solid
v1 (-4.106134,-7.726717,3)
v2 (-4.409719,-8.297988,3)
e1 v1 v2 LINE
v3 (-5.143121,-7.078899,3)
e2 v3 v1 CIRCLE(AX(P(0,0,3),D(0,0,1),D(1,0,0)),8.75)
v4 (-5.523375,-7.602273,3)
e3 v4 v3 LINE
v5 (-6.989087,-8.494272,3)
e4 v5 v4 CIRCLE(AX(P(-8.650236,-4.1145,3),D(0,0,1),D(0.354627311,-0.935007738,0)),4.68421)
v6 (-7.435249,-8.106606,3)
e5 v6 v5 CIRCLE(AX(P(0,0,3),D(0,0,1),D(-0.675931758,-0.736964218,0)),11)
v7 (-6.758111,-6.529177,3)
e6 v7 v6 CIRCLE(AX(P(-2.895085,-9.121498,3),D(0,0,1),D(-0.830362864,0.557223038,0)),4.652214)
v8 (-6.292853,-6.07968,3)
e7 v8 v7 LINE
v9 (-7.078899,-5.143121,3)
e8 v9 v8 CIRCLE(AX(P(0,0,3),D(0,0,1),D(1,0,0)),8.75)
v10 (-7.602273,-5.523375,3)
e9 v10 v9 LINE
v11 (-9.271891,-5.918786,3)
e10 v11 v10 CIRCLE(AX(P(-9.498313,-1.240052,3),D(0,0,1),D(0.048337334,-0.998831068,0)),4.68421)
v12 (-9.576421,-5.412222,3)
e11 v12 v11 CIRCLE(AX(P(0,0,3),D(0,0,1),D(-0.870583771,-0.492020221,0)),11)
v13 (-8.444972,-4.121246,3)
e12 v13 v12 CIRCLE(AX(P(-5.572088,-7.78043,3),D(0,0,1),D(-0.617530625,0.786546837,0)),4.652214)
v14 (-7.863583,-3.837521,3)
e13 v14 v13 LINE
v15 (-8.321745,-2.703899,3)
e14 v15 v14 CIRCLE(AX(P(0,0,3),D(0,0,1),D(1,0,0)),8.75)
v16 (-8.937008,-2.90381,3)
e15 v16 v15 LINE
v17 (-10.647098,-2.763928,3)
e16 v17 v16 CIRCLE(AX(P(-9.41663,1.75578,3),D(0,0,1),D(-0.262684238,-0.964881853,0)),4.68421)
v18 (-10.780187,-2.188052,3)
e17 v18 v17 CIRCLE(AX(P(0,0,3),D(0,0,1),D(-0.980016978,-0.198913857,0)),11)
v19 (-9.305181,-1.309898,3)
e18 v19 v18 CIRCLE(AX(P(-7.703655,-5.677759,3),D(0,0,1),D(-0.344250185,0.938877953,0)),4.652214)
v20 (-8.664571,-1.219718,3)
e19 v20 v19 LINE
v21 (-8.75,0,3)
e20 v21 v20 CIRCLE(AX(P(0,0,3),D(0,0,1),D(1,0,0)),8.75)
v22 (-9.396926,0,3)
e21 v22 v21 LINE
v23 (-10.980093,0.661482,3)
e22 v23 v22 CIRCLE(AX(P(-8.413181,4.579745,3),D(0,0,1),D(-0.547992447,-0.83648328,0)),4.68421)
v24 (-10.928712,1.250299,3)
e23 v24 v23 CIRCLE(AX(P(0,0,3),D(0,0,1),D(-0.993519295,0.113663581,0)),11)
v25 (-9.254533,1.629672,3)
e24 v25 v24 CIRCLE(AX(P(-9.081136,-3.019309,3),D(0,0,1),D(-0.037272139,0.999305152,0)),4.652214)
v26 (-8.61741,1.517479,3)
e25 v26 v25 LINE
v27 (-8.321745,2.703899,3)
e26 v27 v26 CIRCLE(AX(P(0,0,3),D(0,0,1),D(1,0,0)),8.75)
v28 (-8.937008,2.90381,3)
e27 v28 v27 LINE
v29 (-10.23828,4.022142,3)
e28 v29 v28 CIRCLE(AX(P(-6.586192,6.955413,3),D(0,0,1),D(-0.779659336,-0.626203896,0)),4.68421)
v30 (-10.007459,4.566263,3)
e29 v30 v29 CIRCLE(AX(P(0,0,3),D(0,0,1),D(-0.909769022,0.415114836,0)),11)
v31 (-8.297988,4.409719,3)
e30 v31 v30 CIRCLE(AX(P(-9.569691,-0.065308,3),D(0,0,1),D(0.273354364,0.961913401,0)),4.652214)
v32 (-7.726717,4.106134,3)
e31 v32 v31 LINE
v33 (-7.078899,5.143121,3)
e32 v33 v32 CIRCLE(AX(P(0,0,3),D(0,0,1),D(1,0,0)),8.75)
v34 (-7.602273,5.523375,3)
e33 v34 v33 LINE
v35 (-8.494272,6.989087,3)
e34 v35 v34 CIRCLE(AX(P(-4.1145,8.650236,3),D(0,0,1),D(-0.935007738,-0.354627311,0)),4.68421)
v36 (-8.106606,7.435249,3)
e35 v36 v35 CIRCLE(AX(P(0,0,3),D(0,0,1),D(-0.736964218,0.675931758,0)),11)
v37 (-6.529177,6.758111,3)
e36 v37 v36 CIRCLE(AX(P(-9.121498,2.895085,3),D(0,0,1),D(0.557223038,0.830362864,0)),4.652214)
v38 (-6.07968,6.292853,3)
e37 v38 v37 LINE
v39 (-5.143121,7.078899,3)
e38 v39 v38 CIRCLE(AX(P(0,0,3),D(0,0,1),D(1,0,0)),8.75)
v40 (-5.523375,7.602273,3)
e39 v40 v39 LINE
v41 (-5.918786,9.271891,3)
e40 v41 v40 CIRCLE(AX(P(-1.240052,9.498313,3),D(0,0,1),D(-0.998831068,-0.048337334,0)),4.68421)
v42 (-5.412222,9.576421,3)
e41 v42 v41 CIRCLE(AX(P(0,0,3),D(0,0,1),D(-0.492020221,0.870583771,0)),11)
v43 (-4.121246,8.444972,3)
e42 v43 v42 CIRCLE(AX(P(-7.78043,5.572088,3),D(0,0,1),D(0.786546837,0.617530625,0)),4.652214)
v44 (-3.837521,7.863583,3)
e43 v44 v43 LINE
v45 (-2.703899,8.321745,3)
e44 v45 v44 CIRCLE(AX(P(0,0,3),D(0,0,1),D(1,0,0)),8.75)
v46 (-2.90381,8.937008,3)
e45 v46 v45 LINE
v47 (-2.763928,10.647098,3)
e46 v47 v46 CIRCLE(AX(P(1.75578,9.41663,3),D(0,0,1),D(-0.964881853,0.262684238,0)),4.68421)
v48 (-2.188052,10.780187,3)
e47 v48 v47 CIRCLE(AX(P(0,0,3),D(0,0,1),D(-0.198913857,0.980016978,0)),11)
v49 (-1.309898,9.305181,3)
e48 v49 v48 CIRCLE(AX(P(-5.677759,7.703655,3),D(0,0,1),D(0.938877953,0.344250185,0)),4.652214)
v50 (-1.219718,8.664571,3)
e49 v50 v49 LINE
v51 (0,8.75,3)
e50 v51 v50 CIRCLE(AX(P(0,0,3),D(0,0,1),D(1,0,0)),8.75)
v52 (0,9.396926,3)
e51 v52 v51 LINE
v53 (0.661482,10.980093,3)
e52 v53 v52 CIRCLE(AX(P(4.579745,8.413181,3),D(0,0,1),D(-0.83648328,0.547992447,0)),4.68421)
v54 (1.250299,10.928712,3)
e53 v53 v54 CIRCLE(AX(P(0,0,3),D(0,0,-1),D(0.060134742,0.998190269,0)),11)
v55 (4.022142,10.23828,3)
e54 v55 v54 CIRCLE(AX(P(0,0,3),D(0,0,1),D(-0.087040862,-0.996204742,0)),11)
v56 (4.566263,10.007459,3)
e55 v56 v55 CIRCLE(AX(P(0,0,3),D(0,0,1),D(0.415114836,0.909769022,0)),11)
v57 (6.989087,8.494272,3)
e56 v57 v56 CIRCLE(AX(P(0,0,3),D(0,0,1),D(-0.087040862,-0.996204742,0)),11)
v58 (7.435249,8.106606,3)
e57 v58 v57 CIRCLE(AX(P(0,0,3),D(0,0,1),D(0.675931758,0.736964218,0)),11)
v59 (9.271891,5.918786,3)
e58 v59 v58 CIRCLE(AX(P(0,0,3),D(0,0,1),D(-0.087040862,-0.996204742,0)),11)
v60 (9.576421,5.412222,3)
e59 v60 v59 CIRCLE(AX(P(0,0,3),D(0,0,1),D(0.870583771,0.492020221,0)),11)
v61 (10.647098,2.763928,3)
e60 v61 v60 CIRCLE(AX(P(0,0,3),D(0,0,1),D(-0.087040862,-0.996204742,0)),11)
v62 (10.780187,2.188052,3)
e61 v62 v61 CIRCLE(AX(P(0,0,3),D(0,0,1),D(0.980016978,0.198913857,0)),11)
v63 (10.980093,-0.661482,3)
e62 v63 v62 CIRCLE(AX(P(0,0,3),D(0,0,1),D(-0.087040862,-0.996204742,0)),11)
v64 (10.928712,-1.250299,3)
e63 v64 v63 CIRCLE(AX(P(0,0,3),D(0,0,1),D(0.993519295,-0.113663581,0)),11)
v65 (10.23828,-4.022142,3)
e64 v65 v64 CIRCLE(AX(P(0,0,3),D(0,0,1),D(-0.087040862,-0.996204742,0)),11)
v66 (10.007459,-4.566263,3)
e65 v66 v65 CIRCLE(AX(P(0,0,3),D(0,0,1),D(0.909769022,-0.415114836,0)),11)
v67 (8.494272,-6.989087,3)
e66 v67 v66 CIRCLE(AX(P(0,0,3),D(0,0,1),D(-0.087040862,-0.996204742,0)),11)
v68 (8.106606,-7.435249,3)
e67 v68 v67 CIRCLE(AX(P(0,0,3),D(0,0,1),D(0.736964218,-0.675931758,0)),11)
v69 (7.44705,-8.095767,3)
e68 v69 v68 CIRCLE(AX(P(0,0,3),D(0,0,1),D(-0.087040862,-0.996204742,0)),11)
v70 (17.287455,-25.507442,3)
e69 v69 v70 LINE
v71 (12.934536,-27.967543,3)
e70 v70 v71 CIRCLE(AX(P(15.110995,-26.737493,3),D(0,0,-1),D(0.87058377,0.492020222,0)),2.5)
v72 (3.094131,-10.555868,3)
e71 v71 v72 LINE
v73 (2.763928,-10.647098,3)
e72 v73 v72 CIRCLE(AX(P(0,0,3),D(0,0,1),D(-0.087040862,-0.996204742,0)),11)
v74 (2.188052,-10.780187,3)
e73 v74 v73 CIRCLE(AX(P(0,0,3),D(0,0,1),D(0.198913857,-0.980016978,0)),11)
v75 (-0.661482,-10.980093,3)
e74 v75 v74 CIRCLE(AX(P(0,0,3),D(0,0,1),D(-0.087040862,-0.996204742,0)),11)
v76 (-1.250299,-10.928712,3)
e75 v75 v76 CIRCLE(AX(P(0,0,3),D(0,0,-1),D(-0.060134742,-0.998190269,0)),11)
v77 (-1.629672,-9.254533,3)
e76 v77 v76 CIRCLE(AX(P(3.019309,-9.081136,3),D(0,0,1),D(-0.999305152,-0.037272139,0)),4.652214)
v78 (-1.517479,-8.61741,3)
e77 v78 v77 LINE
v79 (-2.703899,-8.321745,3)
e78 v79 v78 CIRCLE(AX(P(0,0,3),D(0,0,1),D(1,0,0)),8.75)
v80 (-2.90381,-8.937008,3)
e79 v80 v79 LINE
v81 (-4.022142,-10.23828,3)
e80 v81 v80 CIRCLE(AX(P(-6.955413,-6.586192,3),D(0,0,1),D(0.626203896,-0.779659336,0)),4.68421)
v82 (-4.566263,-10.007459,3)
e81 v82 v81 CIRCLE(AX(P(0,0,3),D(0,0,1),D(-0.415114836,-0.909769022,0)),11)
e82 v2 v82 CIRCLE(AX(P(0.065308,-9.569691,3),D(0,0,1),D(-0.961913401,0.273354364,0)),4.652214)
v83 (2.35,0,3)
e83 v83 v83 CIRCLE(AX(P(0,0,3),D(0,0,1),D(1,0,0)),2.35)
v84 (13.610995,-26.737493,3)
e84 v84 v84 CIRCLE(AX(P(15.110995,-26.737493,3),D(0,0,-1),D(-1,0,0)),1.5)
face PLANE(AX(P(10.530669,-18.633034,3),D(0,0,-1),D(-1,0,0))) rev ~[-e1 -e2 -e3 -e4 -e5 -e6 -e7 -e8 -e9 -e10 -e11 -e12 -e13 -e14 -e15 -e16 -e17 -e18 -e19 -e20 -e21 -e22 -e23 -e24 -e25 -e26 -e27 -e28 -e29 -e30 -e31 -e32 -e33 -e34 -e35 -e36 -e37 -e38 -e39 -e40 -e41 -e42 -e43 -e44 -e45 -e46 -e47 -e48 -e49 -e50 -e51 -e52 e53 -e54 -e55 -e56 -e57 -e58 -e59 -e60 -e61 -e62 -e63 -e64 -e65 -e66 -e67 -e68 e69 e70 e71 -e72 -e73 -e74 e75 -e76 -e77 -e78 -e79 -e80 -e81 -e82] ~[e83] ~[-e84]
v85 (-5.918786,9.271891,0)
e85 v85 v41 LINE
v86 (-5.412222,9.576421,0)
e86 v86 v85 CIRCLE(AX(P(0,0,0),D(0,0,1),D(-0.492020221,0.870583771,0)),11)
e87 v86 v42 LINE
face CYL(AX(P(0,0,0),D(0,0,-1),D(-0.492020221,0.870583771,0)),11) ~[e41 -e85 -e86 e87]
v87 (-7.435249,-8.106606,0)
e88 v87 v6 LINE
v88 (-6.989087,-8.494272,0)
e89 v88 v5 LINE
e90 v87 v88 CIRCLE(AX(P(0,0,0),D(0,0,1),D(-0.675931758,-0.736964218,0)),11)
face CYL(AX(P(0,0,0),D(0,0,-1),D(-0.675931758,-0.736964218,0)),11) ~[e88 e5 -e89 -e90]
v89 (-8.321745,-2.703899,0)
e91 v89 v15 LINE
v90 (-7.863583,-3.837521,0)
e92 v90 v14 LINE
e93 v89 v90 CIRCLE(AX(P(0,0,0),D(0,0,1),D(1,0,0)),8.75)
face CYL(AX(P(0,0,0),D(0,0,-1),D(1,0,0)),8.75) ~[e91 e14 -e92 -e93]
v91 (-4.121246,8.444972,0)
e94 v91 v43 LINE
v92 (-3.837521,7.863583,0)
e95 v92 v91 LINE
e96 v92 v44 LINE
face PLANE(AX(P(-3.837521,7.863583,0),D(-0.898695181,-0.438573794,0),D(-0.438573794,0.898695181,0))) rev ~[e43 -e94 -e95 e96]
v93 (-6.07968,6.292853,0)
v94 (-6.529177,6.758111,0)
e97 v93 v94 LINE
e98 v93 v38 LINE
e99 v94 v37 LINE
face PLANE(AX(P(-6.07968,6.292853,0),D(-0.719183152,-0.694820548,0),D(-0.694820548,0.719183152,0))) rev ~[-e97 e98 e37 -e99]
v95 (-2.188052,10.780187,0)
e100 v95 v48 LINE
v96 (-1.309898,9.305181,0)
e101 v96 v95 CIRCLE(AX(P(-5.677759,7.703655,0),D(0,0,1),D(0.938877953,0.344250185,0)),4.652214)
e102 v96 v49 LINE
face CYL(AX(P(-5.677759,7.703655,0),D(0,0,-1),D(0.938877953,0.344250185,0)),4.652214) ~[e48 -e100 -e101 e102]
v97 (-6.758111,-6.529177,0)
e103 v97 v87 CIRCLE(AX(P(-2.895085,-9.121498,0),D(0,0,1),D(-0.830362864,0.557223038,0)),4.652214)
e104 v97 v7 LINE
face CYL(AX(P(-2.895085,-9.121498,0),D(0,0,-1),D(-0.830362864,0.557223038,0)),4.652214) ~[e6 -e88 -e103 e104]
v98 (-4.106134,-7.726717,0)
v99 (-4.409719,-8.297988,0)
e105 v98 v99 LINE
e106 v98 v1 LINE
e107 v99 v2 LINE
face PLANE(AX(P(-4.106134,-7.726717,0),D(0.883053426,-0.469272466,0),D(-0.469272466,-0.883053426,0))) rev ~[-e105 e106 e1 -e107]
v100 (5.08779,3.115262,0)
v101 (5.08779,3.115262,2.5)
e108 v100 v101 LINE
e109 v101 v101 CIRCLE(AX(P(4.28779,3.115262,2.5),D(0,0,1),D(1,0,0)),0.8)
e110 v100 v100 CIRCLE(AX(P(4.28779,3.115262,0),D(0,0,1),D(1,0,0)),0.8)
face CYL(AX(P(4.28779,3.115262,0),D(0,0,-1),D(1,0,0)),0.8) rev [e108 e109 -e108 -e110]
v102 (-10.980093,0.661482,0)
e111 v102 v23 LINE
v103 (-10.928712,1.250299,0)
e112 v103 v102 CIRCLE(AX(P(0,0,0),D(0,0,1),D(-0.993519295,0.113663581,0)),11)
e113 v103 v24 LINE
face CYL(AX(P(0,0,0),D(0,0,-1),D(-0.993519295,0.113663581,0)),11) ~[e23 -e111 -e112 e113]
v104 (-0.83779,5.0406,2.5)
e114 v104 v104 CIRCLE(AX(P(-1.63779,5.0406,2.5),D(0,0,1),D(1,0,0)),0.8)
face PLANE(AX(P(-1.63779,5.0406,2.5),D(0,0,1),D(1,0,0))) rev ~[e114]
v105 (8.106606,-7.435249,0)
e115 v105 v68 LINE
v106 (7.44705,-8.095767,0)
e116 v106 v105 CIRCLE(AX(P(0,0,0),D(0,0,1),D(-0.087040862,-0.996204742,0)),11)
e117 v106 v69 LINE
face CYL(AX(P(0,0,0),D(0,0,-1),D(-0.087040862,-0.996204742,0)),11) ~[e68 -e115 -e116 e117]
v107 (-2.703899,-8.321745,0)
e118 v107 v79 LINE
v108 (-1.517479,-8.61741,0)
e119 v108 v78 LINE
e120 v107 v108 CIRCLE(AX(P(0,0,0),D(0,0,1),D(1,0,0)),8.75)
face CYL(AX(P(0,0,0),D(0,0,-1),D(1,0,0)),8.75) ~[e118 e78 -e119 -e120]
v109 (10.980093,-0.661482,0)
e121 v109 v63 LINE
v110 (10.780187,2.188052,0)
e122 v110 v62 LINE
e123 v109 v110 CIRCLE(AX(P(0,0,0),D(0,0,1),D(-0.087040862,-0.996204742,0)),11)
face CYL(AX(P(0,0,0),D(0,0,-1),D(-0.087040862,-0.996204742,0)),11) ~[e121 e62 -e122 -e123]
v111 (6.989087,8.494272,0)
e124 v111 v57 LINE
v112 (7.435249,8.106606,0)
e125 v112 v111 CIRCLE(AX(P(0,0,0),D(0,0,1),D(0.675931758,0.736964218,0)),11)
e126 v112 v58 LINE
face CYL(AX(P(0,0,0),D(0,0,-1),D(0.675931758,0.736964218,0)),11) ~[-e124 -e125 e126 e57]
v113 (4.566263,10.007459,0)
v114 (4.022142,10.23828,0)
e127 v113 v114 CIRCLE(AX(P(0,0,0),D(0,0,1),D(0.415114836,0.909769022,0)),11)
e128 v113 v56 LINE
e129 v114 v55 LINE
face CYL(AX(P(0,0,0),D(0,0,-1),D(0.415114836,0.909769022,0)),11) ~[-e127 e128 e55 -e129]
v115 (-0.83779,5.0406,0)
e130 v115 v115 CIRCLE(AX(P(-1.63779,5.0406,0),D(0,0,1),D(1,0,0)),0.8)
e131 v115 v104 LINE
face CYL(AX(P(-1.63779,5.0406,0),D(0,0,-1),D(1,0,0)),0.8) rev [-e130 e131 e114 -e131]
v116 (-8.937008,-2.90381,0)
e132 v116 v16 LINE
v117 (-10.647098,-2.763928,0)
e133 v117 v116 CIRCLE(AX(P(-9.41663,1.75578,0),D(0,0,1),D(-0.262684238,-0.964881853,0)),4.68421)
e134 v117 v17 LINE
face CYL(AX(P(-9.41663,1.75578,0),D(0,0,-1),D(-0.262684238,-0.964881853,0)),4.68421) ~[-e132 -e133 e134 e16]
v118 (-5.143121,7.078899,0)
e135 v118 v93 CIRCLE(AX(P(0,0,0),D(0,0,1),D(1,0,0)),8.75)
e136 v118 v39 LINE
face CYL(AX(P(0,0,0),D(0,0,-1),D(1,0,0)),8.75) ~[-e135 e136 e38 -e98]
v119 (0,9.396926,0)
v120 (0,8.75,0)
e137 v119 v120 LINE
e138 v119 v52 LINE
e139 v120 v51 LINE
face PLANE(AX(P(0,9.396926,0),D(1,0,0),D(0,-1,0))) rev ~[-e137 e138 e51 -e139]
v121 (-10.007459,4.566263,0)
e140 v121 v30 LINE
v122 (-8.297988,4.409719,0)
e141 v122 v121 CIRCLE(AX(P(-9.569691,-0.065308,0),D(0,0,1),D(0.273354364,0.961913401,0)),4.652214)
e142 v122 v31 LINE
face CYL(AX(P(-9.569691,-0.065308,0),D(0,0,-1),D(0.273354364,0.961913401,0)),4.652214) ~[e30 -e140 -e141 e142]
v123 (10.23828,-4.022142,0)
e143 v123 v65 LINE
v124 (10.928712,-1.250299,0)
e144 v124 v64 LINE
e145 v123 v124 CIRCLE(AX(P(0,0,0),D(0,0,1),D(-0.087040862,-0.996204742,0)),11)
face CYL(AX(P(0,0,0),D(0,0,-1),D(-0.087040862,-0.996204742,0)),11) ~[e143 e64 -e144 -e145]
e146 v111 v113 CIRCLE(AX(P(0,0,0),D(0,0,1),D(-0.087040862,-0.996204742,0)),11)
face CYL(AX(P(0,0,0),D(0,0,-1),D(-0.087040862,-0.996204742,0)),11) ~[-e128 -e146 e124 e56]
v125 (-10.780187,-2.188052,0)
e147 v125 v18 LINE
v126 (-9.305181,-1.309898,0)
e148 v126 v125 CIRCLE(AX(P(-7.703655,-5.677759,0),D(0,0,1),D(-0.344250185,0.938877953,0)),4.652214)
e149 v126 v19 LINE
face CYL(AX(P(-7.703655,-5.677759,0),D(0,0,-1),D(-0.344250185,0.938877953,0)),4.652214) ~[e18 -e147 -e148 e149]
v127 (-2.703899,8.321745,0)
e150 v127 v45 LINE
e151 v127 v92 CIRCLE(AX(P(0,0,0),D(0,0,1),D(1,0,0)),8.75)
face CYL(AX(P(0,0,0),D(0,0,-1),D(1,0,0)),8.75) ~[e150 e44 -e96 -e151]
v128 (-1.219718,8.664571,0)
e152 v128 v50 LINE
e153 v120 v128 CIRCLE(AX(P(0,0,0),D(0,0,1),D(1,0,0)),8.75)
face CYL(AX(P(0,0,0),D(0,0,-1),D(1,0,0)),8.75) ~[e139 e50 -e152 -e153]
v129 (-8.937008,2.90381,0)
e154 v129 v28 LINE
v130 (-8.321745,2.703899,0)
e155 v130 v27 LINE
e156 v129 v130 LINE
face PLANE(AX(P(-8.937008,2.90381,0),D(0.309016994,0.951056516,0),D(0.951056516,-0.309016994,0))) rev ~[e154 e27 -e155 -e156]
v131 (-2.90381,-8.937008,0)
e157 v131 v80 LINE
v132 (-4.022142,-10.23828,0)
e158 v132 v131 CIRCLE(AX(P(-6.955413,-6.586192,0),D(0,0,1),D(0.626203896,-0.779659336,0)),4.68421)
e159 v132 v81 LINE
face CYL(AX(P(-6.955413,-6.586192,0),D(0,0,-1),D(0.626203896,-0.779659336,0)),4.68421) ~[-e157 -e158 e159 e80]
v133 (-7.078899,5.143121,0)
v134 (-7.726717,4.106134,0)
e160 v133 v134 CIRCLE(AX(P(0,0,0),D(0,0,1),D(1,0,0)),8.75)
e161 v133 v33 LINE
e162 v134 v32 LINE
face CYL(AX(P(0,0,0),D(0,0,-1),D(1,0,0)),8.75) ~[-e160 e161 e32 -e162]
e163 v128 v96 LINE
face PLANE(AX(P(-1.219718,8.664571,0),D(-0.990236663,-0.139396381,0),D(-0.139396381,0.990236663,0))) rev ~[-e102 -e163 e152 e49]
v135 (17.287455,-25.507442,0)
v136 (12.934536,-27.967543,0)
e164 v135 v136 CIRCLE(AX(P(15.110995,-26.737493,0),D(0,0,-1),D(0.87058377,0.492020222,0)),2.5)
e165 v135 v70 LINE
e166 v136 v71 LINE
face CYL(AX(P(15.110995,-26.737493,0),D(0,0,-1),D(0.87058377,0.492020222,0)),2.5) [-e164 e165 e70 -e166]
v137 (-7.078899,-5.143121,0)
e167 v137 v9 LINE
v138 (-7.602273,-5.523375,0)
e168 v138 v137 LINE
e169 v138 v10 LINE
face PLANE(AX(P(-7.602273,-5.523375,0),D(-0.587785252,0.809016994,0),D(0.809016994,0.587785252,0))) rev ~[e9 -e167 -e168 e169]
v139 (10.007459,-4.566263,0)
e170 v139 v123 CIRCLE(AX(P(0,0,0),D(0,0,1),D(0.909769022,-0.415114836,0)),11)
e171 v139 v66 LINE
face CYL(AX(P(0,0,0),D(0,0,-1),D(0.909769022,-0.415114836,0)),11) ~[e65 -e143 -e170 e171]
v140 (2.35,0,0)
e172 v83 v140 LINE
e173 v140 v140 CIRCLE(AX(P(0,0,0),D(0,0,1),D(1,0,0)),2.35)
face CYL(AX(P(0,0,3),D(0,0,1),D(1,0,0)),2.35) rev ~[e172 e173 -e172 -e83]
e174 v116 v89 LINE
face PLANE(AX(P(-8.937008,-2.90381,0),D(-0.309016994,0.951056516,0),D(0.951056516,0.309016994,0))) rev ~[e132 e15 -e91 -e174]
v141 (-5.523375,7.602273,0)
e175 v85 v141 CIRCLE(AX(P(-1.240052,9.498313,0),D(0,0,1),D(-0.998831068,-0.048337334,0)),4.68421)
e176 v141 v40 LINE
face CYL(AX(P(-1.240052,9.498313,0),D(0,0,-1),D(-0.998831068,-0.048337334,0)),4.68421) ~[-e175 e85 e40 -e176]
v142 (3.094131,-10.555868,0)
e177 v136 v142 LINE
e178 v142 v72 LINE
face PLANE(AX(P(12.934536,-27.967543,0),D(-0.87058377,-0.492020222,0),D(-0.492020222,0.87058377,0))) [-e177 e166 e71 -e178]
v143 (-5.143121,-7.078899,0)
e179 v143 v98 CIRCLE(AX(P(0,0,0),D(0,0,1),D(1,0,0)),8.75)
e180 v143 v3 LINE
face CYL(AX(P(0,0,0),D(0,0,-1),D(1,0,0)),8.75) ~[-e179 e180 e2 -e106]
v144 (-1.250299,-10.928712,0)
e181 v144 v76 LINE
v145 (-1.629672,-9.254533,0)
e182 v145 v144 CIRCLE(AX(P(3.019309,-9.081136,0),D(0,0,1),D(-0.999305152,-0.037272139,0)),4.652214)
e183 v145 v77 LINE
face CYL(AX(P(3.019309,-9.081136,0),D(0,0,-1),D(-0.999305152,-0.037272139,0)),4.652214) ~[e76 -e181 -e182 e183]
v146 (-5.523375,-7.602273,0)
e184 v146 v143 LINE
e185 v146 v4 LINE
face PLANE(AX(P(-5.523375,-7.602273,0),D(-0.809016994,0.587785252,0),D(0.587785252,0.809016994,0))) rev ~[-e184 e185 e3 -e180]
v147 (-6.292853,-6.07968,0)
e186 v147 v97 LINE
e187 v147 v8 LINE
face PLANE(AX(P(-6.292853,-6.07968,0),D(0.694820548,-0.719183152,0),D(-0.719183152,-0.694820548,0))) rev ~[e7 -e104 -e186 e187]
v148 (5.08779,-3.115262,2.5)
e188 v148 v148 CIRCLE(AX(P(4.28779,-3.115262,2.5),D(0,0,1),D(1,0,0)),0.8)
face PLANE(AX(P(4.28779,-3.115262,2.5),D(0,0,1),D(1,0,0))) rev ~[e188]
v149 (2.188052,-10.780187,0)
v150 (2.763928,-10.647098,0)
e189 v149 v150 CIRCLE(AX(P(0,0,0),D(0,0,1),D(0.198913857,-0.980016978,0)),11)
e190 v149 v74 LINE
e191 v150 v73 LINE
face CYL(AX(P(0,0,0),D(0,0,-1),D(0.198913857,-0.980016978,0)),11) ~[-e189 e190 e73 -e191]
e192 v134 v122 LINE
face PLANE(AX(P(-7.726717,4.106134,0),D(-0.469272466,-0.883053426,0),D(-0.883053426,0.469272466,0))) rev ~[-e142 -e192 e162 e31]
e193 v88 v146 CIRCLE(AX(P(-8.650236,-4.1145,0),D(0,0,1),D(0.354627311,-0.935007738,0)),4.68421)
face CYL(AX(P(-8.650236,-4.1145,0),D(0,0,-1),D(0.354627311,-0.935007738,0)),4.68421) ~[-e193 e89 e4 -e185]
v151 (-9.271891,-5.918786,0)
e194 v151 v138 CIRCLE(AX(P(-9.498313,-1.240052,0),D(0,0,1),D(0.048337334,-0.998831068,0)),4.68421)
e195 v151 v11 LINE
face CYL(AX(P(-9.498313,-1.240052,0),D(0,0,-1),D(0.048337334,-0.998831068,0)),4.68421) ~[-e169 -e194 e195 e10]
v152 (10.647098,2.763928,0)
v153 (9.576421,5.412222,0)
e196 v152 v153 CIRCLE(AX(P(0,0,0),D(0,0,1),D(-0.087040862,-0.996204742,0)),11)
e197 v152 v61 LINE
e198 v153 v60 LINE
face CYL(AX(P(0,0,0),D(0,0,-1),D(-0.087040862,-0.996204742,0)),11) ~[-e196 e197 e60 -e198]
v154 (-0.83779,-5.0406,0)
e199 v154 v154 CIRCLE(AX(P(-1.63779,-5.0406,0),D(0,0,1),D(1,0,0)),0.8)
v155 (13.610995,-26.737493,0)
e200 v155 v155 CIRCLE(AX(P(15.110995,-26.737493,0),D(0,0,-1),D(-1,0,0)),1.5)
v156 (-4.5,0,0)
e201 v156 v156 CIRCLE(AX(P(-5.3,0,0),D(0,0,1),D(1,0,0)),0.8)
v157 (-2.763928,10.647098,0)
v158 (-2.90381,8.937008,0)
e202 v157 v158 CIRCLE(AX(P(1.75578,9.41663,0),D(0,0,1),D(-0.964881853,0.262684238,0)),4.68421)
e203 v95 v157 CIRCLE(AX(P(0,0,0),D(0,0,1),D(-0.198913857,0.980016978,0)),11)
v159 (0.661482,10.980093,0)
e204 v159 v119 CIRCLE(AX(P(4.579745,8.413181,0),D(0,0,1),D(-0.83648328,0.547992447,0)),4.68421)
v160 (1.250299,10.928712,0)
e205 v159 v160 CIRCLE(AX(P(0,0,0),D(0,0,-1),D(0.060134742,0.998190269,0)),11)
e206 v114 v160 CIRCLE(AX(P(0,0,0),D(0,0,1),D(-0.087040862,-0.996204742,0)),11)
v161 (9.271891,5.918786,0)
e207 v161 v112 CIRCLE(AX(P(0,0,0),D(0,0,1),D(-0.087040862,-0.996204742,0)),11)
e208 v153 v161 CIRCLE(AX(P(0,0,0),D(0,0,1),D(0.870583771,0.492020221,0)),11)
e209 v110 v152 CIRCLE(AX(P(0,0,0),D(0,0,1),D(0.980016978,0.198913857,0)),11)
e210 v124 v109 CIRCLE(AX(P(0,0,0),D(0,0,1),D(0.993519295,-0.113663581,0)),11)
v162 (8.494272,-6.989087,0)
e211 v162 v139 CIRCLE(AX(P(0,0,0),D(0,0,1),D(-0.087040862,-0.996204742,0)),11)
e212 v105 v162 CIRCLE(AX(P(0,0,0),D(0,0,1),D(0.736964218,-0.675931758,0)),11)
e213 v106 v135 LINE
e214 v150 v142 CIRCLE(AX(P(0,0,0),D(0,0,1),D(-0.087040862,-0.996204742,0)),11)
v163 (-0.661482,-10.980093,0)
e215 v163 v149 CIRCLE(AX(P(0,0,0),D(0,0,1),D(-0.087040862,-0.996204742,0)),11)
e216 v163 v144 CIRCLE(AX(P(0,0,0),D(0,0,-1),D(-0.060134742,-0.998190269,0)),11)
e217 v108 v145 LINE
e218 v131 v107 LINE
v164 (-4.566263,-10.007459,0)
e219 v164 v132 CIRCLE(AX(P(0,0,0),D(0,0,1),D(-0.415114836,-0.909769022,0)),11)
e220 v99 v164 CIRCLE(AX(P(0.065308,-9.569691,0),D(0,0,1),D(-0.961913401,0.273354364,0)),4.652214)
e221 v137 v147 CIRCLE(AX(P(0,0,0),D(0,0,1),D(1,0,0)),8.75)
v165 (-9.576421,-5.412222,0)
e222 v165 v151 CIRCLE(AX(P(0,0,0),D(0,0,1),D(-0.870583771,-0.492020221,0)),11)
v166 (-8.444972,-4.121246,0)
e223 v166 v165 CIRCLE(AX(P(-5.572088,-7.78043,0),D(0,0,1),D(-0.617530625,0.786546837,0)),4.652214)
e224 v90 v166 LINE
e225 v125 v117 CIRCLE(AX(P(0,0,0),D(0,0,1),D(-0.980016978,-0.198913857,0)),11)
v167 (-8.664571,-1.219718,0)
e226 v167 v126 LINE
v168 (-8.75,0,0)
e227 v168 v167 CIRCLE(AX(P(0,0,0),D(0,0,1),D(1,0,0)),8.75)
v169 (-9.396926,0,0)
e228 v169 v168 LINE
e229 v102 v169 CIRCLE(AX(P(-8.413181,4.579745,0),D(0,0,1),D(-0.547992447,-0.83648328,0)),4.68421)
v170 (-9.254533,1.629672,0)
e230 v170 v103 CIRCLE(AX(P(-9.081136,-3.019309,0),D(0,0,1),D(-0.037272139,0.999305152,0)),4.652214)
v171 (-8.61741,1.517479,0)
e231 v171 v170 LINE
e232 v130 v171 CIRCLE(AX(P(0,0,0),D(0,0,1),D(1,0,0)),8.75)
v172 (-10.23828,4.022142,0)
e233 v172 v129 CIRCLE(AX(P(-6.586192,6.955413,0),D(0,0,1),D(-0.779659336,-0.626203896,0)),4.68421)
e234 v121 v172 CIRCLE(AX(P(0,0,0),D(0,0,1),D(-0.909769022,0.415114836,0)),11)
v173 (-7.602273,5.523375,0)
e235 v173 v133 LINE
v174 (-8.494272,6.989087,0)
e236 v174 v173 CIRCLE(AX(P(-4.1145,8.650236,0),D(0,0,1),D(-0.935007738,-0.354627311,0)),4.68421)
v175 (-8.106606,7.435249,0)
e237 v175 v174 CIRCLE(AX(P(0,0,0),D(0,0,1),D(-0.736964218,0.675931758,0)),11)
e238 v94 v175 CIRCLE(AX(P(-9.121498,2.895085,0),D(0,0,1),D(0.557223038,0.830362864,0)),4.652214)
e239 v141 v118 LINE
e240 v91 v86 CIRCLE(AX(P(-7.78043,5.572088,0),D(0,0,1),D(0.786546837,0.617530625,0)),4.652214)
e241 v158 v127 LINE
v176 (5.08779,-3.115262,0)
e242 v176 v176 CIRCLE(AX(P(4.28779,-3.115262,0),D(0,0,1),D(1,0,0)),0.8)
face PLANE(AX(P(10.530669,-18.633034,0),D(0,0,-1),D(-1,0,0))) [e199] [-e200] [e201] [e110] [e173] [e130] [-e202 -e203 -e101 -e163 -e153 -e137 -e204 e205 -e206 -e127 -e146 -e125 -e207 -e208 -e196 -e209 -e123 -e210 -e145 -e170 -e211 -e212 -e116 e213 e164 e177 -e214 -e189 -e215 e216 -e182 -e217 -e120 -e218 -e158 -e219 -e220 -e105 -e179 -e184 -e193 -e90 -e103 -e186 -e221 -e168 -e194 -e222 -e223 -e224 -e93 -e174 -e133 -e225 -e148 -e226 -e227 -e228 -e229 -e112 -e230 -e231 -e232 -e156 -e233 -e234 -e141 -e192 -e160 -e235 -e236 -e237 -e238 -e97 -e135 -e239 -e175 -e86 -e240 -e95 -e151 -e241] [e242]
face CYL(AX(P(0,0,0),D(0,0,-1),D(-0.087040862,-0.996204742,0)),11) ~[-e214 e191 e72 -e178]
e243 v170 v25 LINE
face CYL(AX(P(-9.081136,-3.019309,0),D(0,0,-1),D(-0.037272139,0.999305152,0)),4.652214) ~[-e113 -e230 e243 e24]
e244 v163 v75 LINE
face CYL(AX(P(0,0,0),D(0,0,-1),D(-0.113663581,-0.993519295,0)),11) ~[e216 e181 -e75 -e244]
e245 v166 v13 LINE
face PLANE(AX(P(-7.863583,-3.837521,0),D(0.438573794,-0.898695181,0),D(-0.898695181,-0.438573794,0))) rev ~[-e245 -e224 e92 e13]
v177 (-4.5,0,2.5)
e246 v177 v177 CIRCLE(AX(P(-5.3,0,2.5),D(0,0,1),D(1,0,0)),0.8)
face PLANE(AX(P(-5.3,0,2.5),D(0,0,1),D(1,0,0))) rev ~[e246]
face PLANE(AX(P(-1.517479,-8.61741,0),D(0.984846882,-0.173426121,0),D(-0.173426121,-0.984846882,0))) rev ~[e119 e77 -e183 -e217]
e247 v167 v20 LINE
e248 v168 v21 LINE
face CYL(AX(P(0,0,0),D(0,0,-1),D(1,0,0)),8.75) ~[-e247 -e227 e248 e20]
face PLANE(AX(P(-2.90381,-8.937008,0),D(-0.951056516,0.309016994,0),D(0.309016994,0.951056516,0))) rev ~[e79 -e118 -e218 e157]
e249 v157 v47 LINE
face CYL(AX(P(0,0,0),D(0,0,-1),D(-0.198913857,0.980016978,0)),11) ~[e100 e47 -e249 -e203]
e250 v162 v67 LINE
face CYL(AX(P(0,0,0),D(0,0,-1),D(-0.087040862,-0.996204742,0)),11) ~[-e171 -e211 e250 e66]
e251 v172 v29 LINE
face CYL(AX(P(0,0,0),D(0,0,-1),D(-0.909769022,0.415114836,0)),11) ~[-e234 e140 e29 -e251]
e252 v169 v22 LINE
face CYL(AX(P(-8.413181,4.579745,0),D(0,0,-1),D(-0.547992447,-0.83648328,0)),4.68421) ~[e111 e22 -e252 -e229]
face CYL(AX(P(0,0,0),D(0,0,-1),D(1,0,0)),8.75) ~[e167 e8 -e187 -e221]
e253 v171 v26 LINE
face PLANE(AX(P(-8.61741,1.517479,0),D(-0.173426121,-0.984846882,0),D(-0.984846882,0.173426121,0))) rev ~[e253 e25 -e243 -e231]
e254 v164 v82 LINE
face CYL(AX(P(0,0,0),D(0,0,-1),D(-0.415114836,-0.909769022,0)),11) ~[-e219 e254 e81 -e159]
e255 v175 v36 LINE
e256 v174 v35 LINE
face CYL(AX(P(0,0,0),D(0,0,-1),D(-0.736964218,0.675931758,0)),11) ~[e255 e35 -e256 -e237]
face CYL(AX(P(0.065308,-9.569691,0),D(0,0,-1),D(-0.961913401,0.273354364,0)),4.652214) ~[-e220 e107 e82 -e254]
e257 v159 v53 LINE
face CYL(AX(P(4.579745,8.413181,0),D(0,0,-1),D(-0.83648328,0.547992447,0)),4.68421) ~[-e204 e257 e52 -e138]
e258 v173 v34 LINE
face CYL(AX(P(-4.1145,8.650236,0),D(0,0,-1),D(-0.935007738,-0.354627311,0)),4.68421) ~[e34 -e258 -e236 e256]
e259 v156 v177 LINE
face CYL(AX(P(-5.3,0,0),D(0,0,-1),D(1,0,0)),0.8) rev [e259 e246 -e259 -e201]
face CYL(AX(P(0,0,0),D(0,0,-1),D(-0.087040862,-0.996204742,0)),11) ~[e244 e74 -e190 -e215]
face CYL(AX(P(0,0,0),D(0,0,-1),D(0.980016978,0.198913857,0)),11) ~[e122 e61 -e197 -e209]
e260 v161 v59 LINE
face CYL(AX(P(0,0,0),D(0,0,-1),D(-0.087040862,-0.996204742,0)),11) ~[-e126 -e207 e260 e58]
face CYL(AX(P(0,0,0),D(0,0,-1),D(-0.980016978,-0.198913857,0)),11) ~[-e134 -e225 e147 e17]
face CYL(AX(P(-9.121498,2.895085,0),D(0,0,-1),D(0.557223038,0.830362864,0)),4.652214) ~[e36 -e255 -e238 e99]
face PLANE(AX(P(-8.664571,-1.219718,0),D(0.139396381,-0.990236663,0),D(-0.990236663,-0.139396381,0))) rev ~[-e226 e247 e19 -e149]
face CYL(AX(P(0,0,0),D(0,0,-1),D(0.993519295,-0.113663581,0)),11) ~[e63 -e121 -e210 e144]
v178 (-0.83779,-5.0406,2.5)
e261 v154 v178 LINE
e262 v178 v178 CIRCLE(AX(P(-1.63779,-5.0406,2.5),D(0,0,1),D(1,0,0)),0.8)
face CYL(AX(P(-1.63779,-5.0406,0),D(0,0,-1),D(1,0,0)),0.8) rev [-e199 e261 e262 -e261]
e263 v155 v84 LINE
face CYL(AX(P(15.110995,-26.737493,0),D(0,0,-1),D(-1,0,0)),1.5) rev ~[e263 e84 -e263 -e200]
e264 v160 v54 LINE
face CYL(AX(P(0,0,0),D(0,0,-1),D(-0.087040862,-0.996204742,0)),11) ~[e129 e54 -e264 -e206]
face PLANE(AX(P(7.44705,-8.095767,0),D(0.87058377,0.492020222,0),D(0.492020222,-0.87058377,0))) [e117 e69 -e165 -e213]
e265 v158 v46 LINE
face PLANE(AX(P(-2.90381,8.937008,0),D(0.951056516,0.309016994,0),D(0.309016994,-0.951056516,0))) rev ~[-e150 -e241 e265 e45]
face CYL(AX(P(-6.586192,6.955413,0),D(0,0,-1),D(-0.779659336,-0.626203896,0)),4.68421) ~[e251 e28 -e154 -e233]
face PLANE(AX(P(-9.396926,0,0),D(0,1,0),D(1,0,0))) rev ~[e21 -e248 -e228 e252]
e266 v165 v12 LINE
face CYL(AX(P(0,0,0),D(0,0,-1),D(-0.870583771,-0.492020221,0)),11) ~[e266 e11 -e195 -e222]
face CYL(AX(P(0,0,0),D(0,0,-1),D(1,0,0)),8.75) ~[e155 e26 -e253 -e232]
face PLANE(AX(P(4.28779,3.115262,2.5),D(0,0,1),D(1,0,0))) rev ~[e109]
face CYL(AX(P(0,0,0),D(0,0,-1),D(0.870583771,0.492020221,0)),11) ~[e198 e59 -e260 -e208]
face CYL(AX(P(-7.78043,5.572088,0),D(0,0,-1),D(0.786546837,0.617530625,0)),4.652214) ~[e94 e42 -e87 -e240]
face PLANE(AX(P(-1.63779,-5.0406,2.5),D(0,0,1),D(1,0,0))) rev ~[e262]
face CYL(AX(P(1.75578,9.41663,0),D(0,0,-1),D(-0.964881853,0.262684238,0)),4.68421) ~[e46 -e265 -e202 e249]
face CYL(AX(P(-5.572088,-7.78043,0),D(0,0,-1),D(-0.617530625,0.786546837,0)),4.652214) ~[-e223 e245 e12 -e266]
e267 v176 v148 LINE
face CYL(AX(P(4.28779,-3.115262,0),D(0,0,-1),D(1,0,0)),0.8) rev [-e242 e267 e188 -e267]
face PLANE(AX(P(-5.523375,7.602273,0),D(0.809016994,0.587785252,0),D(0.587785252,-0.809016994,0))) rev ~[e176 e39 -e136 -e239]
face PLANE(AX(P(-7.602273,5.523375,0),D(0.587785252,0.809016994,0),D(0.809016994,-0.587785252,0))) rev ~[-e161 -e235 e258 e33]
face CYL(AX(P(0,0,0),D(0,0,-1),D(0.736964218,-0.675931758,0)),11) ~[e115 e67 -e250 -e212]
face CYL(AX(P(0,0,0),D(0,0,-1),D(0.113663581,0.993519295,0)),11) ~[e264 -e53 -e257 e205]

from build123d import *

# Parameters (mm, degrees)
EXTRUSION_DENTS_DEPTH         = 3
R_P_TITION_CIRCULAIRE2_COUNT  = 20
ESQUISSE1_R                   = 8.75
EXTRUSION_DISQUE_DEPTH        = 3
BOSS_EXTRU_1_DEPTH            = 3
ESQUISSE6_R                   = 1.5
BOSS_EXTRU_2_DEPTH            = 3
ESQUISSE3_R                   = 2.35
ENL_V_MAT_EXTRU_1_DEPTH       = 35.263364496
ESQUISSE8_R                   = 0.8
FIXATION_PALONNIER_SG90_DEPTH = 2.5


with BuildPart() as part:
    # Esquisse2 → Extrusion dents (new body)
    with BuildSketch(Plane.XY):
        with BuildLine():
            Line((0, 9.396926208), (0, 8.75))
            ThreePointArc((0, 8.75), (0.761630034, 8.716789529), (1.517478561, 8.617410215))
            Line((1.517478561, 8.617410215), (1.629672464, 9.254533474))
            ThreePointArc((1.629672464, 9.254533474), (1.517874028, 10.109272502), (1.250299377, 10.928712251))
            ThreePointArc((1.250299377, 10.928712251), (0.956235935, 10.958358127), (0.661482168, 10.980092957))
            ThreePointArc((0.661482168, 10.980092957), (0.25763458, 10.219055101), (0, 9.396926208))
        make_face()
    extrude(amount=EXTRUSION_DENTS_DEPTH)


with BuildPart() as r_p_tition_circulaire2_1:
    # Répétition circulaire2: pattern copy
    add(part.part.rotate(Axis((0, 0, 0), (0, 0, 1)), 1 * 360 / R_P_TITION_CIRCULAIRE2_COUNT))


with BuildPart() as r_p_tition_circulaire2_2:
    # Répétition circulaire2: pattern copy
    add(part.part.rotate(Axis((0, 0, 0), (0, 0, 1)), 2 * 360 / R_P_TITION_CIRCULAIRE2_COUNT))


with BuildPart() as r_p_tition_circulaire2_3:
    # Répétition circulaire2: pattern copy
    add(part.part.rotate(Axis((0, 0, 0), (0, 0, 1)), 3 * 360 / R_P_TITION_CIRCULAIRE2_COUNT))


with BuildPart() as r_p_tition_circulaire2_4:
    # Répétition circulaire2: pattern copy
    add(part.part.rotate(Axis((0, 0, 0), (0, 0, 1)), 4 * 360 / R_P_TITION_CIRCULAIRE2_COUNT))


with BuildPart() as r_p_tition_circulaire2_5:
    # Répétition circulaire2: pattern copy
    add(part.part.rotate(Axis((0, 0, 0), (0, 0, 1)), 5 * 360 / R_P_TITION_CIRCULAIRE2_COUNT))


with BuildPart() as r_p_tition_circulaire2_6:
    # Répétition circulaire2: pattern copy
    add(part.part.rotate(Axis((0, 0, 0), (0, 0, 1)), 6 * 360 / R_P_TITION_CIRCULAIRE2_COUNT))


with BuildPart() as r_p_tition_circulaire2_7:
    # Répétition circulaire2: pattern copy
    add(part.part.rotate(Axis((0, 0, 0), (0, 0, 1)), 7 * 360 / R_P_TITION_CIRCULAIRE2_COUNT))


with BuildPart() as r_p_tition_circulaire2_8:
    # Répétition circulaire2: pattern copy
    add(part.part.rotate(Axis((0, 0, 0), (0, 0, 1)), 8 * 360 / R_P_TITION_CIRCULAIRE2_COUNT))


with BuildPart() as r_p_tition_circulaire2_9:
    # Répétition circulaire2: pattern copy
    add(part.part.rotate(Axis((0, 0, 0), (0, 0, 1)), 9 * 360 / R_P_TITION_CIRCULAIRE2_COUNT))


with BuildPart() as r_p_tition_circulaire2_10:
    # Répétition circulaire2: pattern copy
    add(part.part.rotate(Axis((0, 0, 0), (0, 0, 1)), 10 * 360 / R_P_TITION_CIRCULAIRE2_COUNT))


with BuildPart() as r_p_tition_circulaire2_11:
    # Répétition circulaire2: pattern copy
    add(part.part.rotate(Axis((0, 0, 0), (0, 0, 1)), 11 * 360 / R_P_TITION_CIRCULAIRE2_COUNT))


with BuildPart() as r_p_tition_circulaire2_12:
    # Répétition circulaire2: pattern copy
    add(part.part.rotate(Axis((0, 0, 0), (0, 0, 1)), 12 * 360 / R_P_TITION_CIRCULAIRE2_COUNT))


with BuildPart() as r_p_tition_circulaire2_13:
    # Répétition circulaire2: pattern copy
    add(part.part.rotate(Axis((0, 0, 0), (0, 0, 1)), 13 * 360 / R_P_TITION_CIRCULAIRE2_COUNT))


with BuildPart() as r_p_tition_circulaire2_14:
    # Répétition circulaire2: pattern copy
    add(part.part.rotate(Axis((0, 0, 0), (0, 0, 1)), 14 * 360 / R_P_TITION_CIRCULAIRE2_COUNT))


with BuildPart() as r_p_tition_circulaire2_15:
    # Répétition circulaire2: pattern copy
    add(part.part.rotate(Axis((0, 0, 0), (0, 0, 1)), 15 * 360 / R_P_TITION_CIRCULAIRE2_COUNT))


with BuildPart() as r_p_tition_circulaire2_16:
    # Répétition circulaire2: pattern copy
    add(part.part.rotate(Axis((0, 0, 0), (0, 0, 1)), 16 * 360 / R_P_TITION_CIRCULAIRE2_COUNT))


with BuildPart() as r_p_tition_circulaire2_17:
    # Répétition circulaire2: pattern copy
    add(part.part.rotate(Axis((0, 0, 0), (0, 0, 1)), 17 * 360 / R_P_TITION_CIRCULAIRE2_COUNT))


with BuildPart() as r_p_tition_circulaire2_18:
    # Répétition circulaire2: pattern copy
    add(part.part.rotate(Axis((0, 0, 0), (0, 0, 1)), 18 * 360 / R_P_TITION_CIRCULAIRE2_COUNT))


with BuildPart() as r_p_tition_circulaire2_19:
    # Répétition circulaire2: pattern copy
    add(part.part.rotate(Axis((0, 0, 0), (0, 0, 1)), 19 * 360 / R_P_TITION_CIRCULAIRE2_COUNT))


with BuildPart() as part_1:
    add(part.part)

    add(r_p_tition_circulaire2_1.part)  # Extrusion disque merges Répétition circulaire2_1

    add(r_p_tition_circulaire2_2.part)  # Extrusion disque merges Répétition circulaire2_2

    add(r_p_tition_circulaire2_3.part)  # Extrusion disque merges Répétition circulaire2_3

    add(r_p_tition_circulaire2_4.part)  # Extrusion disque merges Répétition circulaire2_4

    add(r_p_tition_circulaire2_5.part)  # Extrusion disque merges Répétition circulaire2_5

    add(r_p_tition_circulaire2_6.part)  # Extrusion disque merges Répétition circulaire2_6

    add(r_p_tition_circulaire2_7.part)  # Extrusion disque merges Répétition circulaire2_7

    add(r_p_tition_circulaire2_8.part)  # Extrusion disque merges Répétition circulaire2_8

    add(r_p_tition_circulaire2_9.part)  # Extrusion disque merges Répétition circulaire2_9

    add(r_p_tition_circulaire2_10.part)  # Extrusion disque merges Répétition circulaire2_10

    add(r_p_tition_circulaire2_11.part)  # Extrusion disque merges Répétition circulaire2_11

    add(r_p_tition_circulaire2_12.part)  # Extrusion disque merges Répétition circulaire2_12

    add(r_p_tition_circulaire2_13.part)  # Extrusion disque merges Répétition circulaire2_13

    add(r_p_tition_circulaire2_14.part)  # Extrusion disque merges Répétition circulaire2_14

    add(r_p_tition_circulaire2_15.part)  # Extrusion disque merges Répétition circulaire2_15

    add(r_p_tition_circulaire2_16.part)  # Extrusion disque merges Répétition circulaire2_16

    add(r_p_tition_circulaire2_17.part)  # Extrusion disque merges Répétition circulaire2_17

    add(r_p_tition_circulaire2_18.part)  # Extrusion disque merges Répétition circulaire2_18

    add(r_p_tition_circulaire2_19.part)  # Extrusion disque merges Répétition circulaire2_19
    # Esquisse1 → Extrusion disque (add)
    with BuildSketch(Plane.XY):
        Circle(ESQUISSE1_R)
    extrude(amount=EXTRUSION_DISQUE_DEPTH)

    # Esquisse5 → Boss.-Extru.1 (add)
    with BuildSketch(Plane(origin=(0, 0, 0), x_dir=(-1, 0, 0), z_dir=(0, 0, -1))):
        with BuildLine():
            Line((-0.957126431, 10.958280385), (0.957449481, -10.958252164))
            ThreePointArc((0.957449481, -10.958252164), (-10.958266276, -0.957287956), (-0.957126431, 10.958280385))
        make_face()
    extrude(amount=-BOSS_EXTRU_1_DEPTH)

    # Esquisse6 → Boss.-Extru.2 (add)
    with BuildSketch(Plane(origin=(0, 0, 0), x_dir=(-1, 0, 0), z_dir=(0, 0, -1))):
        with BuildLine():
            Line((-7.447050229, -8.095766974), (-17.287454672, -25.507442378))
            ThreePointArc((-17.287454672, -25.507442378), (-16.341045802, -28.913952359), (-12.934535821, -27.967543489))
            Line((-12.934535821, -27.967543489), (-3.094131377, -10.555868085))
            ThreePointArc((-3.094131377, -10.555868085), (-5.412222444, -9.576421473), (-7.447050229, -8.095766974))
        make_face()
        with Locations((-15.110995246, -26.737492934)):
            Circle(ESQUISSE6_R, mode=Mode.SUBTRACT)
    extrude(amount=-BOSS_EXTRU_2_DEPTH)

    # Esquisse3 → Enlèv. mat.-Extru.1 (cut, through all)
    with BuildSketch(Plane.XY.offset(3)):
        Circle(ESQUISSE3_R)
    extrude(amount=-ENL_V_MAT_EXTRU_1_DEPTH, mode=Mode.SUBTRACT)

    # Esquisse8 → Fixation palonnier SG90 (cut)
    with BuildSketch(Plane.XY):
        with Locations((-1.63779007, 5.040599536)):
            Circle(ESQUISSE8_R)
        with Locations((-5.3, 0)):
            Circle(ESQUISSE8_R)
        with Locations((-1.63779007, -5.040599536)):
            Circle(ESQUISSE8_R)
        with Locations((4.28779007, 3.115261837)):
            Circle(ESQUISSE8_R)
        with Locations((4.28779007, -3.115261837)):
            Circle(ESQUISSE8_R)
    extrude(amount=FIXATION_PALONNIER_SG90_DEPTH, mode=Mode.SUBTRACT)


solid = part_1.part
